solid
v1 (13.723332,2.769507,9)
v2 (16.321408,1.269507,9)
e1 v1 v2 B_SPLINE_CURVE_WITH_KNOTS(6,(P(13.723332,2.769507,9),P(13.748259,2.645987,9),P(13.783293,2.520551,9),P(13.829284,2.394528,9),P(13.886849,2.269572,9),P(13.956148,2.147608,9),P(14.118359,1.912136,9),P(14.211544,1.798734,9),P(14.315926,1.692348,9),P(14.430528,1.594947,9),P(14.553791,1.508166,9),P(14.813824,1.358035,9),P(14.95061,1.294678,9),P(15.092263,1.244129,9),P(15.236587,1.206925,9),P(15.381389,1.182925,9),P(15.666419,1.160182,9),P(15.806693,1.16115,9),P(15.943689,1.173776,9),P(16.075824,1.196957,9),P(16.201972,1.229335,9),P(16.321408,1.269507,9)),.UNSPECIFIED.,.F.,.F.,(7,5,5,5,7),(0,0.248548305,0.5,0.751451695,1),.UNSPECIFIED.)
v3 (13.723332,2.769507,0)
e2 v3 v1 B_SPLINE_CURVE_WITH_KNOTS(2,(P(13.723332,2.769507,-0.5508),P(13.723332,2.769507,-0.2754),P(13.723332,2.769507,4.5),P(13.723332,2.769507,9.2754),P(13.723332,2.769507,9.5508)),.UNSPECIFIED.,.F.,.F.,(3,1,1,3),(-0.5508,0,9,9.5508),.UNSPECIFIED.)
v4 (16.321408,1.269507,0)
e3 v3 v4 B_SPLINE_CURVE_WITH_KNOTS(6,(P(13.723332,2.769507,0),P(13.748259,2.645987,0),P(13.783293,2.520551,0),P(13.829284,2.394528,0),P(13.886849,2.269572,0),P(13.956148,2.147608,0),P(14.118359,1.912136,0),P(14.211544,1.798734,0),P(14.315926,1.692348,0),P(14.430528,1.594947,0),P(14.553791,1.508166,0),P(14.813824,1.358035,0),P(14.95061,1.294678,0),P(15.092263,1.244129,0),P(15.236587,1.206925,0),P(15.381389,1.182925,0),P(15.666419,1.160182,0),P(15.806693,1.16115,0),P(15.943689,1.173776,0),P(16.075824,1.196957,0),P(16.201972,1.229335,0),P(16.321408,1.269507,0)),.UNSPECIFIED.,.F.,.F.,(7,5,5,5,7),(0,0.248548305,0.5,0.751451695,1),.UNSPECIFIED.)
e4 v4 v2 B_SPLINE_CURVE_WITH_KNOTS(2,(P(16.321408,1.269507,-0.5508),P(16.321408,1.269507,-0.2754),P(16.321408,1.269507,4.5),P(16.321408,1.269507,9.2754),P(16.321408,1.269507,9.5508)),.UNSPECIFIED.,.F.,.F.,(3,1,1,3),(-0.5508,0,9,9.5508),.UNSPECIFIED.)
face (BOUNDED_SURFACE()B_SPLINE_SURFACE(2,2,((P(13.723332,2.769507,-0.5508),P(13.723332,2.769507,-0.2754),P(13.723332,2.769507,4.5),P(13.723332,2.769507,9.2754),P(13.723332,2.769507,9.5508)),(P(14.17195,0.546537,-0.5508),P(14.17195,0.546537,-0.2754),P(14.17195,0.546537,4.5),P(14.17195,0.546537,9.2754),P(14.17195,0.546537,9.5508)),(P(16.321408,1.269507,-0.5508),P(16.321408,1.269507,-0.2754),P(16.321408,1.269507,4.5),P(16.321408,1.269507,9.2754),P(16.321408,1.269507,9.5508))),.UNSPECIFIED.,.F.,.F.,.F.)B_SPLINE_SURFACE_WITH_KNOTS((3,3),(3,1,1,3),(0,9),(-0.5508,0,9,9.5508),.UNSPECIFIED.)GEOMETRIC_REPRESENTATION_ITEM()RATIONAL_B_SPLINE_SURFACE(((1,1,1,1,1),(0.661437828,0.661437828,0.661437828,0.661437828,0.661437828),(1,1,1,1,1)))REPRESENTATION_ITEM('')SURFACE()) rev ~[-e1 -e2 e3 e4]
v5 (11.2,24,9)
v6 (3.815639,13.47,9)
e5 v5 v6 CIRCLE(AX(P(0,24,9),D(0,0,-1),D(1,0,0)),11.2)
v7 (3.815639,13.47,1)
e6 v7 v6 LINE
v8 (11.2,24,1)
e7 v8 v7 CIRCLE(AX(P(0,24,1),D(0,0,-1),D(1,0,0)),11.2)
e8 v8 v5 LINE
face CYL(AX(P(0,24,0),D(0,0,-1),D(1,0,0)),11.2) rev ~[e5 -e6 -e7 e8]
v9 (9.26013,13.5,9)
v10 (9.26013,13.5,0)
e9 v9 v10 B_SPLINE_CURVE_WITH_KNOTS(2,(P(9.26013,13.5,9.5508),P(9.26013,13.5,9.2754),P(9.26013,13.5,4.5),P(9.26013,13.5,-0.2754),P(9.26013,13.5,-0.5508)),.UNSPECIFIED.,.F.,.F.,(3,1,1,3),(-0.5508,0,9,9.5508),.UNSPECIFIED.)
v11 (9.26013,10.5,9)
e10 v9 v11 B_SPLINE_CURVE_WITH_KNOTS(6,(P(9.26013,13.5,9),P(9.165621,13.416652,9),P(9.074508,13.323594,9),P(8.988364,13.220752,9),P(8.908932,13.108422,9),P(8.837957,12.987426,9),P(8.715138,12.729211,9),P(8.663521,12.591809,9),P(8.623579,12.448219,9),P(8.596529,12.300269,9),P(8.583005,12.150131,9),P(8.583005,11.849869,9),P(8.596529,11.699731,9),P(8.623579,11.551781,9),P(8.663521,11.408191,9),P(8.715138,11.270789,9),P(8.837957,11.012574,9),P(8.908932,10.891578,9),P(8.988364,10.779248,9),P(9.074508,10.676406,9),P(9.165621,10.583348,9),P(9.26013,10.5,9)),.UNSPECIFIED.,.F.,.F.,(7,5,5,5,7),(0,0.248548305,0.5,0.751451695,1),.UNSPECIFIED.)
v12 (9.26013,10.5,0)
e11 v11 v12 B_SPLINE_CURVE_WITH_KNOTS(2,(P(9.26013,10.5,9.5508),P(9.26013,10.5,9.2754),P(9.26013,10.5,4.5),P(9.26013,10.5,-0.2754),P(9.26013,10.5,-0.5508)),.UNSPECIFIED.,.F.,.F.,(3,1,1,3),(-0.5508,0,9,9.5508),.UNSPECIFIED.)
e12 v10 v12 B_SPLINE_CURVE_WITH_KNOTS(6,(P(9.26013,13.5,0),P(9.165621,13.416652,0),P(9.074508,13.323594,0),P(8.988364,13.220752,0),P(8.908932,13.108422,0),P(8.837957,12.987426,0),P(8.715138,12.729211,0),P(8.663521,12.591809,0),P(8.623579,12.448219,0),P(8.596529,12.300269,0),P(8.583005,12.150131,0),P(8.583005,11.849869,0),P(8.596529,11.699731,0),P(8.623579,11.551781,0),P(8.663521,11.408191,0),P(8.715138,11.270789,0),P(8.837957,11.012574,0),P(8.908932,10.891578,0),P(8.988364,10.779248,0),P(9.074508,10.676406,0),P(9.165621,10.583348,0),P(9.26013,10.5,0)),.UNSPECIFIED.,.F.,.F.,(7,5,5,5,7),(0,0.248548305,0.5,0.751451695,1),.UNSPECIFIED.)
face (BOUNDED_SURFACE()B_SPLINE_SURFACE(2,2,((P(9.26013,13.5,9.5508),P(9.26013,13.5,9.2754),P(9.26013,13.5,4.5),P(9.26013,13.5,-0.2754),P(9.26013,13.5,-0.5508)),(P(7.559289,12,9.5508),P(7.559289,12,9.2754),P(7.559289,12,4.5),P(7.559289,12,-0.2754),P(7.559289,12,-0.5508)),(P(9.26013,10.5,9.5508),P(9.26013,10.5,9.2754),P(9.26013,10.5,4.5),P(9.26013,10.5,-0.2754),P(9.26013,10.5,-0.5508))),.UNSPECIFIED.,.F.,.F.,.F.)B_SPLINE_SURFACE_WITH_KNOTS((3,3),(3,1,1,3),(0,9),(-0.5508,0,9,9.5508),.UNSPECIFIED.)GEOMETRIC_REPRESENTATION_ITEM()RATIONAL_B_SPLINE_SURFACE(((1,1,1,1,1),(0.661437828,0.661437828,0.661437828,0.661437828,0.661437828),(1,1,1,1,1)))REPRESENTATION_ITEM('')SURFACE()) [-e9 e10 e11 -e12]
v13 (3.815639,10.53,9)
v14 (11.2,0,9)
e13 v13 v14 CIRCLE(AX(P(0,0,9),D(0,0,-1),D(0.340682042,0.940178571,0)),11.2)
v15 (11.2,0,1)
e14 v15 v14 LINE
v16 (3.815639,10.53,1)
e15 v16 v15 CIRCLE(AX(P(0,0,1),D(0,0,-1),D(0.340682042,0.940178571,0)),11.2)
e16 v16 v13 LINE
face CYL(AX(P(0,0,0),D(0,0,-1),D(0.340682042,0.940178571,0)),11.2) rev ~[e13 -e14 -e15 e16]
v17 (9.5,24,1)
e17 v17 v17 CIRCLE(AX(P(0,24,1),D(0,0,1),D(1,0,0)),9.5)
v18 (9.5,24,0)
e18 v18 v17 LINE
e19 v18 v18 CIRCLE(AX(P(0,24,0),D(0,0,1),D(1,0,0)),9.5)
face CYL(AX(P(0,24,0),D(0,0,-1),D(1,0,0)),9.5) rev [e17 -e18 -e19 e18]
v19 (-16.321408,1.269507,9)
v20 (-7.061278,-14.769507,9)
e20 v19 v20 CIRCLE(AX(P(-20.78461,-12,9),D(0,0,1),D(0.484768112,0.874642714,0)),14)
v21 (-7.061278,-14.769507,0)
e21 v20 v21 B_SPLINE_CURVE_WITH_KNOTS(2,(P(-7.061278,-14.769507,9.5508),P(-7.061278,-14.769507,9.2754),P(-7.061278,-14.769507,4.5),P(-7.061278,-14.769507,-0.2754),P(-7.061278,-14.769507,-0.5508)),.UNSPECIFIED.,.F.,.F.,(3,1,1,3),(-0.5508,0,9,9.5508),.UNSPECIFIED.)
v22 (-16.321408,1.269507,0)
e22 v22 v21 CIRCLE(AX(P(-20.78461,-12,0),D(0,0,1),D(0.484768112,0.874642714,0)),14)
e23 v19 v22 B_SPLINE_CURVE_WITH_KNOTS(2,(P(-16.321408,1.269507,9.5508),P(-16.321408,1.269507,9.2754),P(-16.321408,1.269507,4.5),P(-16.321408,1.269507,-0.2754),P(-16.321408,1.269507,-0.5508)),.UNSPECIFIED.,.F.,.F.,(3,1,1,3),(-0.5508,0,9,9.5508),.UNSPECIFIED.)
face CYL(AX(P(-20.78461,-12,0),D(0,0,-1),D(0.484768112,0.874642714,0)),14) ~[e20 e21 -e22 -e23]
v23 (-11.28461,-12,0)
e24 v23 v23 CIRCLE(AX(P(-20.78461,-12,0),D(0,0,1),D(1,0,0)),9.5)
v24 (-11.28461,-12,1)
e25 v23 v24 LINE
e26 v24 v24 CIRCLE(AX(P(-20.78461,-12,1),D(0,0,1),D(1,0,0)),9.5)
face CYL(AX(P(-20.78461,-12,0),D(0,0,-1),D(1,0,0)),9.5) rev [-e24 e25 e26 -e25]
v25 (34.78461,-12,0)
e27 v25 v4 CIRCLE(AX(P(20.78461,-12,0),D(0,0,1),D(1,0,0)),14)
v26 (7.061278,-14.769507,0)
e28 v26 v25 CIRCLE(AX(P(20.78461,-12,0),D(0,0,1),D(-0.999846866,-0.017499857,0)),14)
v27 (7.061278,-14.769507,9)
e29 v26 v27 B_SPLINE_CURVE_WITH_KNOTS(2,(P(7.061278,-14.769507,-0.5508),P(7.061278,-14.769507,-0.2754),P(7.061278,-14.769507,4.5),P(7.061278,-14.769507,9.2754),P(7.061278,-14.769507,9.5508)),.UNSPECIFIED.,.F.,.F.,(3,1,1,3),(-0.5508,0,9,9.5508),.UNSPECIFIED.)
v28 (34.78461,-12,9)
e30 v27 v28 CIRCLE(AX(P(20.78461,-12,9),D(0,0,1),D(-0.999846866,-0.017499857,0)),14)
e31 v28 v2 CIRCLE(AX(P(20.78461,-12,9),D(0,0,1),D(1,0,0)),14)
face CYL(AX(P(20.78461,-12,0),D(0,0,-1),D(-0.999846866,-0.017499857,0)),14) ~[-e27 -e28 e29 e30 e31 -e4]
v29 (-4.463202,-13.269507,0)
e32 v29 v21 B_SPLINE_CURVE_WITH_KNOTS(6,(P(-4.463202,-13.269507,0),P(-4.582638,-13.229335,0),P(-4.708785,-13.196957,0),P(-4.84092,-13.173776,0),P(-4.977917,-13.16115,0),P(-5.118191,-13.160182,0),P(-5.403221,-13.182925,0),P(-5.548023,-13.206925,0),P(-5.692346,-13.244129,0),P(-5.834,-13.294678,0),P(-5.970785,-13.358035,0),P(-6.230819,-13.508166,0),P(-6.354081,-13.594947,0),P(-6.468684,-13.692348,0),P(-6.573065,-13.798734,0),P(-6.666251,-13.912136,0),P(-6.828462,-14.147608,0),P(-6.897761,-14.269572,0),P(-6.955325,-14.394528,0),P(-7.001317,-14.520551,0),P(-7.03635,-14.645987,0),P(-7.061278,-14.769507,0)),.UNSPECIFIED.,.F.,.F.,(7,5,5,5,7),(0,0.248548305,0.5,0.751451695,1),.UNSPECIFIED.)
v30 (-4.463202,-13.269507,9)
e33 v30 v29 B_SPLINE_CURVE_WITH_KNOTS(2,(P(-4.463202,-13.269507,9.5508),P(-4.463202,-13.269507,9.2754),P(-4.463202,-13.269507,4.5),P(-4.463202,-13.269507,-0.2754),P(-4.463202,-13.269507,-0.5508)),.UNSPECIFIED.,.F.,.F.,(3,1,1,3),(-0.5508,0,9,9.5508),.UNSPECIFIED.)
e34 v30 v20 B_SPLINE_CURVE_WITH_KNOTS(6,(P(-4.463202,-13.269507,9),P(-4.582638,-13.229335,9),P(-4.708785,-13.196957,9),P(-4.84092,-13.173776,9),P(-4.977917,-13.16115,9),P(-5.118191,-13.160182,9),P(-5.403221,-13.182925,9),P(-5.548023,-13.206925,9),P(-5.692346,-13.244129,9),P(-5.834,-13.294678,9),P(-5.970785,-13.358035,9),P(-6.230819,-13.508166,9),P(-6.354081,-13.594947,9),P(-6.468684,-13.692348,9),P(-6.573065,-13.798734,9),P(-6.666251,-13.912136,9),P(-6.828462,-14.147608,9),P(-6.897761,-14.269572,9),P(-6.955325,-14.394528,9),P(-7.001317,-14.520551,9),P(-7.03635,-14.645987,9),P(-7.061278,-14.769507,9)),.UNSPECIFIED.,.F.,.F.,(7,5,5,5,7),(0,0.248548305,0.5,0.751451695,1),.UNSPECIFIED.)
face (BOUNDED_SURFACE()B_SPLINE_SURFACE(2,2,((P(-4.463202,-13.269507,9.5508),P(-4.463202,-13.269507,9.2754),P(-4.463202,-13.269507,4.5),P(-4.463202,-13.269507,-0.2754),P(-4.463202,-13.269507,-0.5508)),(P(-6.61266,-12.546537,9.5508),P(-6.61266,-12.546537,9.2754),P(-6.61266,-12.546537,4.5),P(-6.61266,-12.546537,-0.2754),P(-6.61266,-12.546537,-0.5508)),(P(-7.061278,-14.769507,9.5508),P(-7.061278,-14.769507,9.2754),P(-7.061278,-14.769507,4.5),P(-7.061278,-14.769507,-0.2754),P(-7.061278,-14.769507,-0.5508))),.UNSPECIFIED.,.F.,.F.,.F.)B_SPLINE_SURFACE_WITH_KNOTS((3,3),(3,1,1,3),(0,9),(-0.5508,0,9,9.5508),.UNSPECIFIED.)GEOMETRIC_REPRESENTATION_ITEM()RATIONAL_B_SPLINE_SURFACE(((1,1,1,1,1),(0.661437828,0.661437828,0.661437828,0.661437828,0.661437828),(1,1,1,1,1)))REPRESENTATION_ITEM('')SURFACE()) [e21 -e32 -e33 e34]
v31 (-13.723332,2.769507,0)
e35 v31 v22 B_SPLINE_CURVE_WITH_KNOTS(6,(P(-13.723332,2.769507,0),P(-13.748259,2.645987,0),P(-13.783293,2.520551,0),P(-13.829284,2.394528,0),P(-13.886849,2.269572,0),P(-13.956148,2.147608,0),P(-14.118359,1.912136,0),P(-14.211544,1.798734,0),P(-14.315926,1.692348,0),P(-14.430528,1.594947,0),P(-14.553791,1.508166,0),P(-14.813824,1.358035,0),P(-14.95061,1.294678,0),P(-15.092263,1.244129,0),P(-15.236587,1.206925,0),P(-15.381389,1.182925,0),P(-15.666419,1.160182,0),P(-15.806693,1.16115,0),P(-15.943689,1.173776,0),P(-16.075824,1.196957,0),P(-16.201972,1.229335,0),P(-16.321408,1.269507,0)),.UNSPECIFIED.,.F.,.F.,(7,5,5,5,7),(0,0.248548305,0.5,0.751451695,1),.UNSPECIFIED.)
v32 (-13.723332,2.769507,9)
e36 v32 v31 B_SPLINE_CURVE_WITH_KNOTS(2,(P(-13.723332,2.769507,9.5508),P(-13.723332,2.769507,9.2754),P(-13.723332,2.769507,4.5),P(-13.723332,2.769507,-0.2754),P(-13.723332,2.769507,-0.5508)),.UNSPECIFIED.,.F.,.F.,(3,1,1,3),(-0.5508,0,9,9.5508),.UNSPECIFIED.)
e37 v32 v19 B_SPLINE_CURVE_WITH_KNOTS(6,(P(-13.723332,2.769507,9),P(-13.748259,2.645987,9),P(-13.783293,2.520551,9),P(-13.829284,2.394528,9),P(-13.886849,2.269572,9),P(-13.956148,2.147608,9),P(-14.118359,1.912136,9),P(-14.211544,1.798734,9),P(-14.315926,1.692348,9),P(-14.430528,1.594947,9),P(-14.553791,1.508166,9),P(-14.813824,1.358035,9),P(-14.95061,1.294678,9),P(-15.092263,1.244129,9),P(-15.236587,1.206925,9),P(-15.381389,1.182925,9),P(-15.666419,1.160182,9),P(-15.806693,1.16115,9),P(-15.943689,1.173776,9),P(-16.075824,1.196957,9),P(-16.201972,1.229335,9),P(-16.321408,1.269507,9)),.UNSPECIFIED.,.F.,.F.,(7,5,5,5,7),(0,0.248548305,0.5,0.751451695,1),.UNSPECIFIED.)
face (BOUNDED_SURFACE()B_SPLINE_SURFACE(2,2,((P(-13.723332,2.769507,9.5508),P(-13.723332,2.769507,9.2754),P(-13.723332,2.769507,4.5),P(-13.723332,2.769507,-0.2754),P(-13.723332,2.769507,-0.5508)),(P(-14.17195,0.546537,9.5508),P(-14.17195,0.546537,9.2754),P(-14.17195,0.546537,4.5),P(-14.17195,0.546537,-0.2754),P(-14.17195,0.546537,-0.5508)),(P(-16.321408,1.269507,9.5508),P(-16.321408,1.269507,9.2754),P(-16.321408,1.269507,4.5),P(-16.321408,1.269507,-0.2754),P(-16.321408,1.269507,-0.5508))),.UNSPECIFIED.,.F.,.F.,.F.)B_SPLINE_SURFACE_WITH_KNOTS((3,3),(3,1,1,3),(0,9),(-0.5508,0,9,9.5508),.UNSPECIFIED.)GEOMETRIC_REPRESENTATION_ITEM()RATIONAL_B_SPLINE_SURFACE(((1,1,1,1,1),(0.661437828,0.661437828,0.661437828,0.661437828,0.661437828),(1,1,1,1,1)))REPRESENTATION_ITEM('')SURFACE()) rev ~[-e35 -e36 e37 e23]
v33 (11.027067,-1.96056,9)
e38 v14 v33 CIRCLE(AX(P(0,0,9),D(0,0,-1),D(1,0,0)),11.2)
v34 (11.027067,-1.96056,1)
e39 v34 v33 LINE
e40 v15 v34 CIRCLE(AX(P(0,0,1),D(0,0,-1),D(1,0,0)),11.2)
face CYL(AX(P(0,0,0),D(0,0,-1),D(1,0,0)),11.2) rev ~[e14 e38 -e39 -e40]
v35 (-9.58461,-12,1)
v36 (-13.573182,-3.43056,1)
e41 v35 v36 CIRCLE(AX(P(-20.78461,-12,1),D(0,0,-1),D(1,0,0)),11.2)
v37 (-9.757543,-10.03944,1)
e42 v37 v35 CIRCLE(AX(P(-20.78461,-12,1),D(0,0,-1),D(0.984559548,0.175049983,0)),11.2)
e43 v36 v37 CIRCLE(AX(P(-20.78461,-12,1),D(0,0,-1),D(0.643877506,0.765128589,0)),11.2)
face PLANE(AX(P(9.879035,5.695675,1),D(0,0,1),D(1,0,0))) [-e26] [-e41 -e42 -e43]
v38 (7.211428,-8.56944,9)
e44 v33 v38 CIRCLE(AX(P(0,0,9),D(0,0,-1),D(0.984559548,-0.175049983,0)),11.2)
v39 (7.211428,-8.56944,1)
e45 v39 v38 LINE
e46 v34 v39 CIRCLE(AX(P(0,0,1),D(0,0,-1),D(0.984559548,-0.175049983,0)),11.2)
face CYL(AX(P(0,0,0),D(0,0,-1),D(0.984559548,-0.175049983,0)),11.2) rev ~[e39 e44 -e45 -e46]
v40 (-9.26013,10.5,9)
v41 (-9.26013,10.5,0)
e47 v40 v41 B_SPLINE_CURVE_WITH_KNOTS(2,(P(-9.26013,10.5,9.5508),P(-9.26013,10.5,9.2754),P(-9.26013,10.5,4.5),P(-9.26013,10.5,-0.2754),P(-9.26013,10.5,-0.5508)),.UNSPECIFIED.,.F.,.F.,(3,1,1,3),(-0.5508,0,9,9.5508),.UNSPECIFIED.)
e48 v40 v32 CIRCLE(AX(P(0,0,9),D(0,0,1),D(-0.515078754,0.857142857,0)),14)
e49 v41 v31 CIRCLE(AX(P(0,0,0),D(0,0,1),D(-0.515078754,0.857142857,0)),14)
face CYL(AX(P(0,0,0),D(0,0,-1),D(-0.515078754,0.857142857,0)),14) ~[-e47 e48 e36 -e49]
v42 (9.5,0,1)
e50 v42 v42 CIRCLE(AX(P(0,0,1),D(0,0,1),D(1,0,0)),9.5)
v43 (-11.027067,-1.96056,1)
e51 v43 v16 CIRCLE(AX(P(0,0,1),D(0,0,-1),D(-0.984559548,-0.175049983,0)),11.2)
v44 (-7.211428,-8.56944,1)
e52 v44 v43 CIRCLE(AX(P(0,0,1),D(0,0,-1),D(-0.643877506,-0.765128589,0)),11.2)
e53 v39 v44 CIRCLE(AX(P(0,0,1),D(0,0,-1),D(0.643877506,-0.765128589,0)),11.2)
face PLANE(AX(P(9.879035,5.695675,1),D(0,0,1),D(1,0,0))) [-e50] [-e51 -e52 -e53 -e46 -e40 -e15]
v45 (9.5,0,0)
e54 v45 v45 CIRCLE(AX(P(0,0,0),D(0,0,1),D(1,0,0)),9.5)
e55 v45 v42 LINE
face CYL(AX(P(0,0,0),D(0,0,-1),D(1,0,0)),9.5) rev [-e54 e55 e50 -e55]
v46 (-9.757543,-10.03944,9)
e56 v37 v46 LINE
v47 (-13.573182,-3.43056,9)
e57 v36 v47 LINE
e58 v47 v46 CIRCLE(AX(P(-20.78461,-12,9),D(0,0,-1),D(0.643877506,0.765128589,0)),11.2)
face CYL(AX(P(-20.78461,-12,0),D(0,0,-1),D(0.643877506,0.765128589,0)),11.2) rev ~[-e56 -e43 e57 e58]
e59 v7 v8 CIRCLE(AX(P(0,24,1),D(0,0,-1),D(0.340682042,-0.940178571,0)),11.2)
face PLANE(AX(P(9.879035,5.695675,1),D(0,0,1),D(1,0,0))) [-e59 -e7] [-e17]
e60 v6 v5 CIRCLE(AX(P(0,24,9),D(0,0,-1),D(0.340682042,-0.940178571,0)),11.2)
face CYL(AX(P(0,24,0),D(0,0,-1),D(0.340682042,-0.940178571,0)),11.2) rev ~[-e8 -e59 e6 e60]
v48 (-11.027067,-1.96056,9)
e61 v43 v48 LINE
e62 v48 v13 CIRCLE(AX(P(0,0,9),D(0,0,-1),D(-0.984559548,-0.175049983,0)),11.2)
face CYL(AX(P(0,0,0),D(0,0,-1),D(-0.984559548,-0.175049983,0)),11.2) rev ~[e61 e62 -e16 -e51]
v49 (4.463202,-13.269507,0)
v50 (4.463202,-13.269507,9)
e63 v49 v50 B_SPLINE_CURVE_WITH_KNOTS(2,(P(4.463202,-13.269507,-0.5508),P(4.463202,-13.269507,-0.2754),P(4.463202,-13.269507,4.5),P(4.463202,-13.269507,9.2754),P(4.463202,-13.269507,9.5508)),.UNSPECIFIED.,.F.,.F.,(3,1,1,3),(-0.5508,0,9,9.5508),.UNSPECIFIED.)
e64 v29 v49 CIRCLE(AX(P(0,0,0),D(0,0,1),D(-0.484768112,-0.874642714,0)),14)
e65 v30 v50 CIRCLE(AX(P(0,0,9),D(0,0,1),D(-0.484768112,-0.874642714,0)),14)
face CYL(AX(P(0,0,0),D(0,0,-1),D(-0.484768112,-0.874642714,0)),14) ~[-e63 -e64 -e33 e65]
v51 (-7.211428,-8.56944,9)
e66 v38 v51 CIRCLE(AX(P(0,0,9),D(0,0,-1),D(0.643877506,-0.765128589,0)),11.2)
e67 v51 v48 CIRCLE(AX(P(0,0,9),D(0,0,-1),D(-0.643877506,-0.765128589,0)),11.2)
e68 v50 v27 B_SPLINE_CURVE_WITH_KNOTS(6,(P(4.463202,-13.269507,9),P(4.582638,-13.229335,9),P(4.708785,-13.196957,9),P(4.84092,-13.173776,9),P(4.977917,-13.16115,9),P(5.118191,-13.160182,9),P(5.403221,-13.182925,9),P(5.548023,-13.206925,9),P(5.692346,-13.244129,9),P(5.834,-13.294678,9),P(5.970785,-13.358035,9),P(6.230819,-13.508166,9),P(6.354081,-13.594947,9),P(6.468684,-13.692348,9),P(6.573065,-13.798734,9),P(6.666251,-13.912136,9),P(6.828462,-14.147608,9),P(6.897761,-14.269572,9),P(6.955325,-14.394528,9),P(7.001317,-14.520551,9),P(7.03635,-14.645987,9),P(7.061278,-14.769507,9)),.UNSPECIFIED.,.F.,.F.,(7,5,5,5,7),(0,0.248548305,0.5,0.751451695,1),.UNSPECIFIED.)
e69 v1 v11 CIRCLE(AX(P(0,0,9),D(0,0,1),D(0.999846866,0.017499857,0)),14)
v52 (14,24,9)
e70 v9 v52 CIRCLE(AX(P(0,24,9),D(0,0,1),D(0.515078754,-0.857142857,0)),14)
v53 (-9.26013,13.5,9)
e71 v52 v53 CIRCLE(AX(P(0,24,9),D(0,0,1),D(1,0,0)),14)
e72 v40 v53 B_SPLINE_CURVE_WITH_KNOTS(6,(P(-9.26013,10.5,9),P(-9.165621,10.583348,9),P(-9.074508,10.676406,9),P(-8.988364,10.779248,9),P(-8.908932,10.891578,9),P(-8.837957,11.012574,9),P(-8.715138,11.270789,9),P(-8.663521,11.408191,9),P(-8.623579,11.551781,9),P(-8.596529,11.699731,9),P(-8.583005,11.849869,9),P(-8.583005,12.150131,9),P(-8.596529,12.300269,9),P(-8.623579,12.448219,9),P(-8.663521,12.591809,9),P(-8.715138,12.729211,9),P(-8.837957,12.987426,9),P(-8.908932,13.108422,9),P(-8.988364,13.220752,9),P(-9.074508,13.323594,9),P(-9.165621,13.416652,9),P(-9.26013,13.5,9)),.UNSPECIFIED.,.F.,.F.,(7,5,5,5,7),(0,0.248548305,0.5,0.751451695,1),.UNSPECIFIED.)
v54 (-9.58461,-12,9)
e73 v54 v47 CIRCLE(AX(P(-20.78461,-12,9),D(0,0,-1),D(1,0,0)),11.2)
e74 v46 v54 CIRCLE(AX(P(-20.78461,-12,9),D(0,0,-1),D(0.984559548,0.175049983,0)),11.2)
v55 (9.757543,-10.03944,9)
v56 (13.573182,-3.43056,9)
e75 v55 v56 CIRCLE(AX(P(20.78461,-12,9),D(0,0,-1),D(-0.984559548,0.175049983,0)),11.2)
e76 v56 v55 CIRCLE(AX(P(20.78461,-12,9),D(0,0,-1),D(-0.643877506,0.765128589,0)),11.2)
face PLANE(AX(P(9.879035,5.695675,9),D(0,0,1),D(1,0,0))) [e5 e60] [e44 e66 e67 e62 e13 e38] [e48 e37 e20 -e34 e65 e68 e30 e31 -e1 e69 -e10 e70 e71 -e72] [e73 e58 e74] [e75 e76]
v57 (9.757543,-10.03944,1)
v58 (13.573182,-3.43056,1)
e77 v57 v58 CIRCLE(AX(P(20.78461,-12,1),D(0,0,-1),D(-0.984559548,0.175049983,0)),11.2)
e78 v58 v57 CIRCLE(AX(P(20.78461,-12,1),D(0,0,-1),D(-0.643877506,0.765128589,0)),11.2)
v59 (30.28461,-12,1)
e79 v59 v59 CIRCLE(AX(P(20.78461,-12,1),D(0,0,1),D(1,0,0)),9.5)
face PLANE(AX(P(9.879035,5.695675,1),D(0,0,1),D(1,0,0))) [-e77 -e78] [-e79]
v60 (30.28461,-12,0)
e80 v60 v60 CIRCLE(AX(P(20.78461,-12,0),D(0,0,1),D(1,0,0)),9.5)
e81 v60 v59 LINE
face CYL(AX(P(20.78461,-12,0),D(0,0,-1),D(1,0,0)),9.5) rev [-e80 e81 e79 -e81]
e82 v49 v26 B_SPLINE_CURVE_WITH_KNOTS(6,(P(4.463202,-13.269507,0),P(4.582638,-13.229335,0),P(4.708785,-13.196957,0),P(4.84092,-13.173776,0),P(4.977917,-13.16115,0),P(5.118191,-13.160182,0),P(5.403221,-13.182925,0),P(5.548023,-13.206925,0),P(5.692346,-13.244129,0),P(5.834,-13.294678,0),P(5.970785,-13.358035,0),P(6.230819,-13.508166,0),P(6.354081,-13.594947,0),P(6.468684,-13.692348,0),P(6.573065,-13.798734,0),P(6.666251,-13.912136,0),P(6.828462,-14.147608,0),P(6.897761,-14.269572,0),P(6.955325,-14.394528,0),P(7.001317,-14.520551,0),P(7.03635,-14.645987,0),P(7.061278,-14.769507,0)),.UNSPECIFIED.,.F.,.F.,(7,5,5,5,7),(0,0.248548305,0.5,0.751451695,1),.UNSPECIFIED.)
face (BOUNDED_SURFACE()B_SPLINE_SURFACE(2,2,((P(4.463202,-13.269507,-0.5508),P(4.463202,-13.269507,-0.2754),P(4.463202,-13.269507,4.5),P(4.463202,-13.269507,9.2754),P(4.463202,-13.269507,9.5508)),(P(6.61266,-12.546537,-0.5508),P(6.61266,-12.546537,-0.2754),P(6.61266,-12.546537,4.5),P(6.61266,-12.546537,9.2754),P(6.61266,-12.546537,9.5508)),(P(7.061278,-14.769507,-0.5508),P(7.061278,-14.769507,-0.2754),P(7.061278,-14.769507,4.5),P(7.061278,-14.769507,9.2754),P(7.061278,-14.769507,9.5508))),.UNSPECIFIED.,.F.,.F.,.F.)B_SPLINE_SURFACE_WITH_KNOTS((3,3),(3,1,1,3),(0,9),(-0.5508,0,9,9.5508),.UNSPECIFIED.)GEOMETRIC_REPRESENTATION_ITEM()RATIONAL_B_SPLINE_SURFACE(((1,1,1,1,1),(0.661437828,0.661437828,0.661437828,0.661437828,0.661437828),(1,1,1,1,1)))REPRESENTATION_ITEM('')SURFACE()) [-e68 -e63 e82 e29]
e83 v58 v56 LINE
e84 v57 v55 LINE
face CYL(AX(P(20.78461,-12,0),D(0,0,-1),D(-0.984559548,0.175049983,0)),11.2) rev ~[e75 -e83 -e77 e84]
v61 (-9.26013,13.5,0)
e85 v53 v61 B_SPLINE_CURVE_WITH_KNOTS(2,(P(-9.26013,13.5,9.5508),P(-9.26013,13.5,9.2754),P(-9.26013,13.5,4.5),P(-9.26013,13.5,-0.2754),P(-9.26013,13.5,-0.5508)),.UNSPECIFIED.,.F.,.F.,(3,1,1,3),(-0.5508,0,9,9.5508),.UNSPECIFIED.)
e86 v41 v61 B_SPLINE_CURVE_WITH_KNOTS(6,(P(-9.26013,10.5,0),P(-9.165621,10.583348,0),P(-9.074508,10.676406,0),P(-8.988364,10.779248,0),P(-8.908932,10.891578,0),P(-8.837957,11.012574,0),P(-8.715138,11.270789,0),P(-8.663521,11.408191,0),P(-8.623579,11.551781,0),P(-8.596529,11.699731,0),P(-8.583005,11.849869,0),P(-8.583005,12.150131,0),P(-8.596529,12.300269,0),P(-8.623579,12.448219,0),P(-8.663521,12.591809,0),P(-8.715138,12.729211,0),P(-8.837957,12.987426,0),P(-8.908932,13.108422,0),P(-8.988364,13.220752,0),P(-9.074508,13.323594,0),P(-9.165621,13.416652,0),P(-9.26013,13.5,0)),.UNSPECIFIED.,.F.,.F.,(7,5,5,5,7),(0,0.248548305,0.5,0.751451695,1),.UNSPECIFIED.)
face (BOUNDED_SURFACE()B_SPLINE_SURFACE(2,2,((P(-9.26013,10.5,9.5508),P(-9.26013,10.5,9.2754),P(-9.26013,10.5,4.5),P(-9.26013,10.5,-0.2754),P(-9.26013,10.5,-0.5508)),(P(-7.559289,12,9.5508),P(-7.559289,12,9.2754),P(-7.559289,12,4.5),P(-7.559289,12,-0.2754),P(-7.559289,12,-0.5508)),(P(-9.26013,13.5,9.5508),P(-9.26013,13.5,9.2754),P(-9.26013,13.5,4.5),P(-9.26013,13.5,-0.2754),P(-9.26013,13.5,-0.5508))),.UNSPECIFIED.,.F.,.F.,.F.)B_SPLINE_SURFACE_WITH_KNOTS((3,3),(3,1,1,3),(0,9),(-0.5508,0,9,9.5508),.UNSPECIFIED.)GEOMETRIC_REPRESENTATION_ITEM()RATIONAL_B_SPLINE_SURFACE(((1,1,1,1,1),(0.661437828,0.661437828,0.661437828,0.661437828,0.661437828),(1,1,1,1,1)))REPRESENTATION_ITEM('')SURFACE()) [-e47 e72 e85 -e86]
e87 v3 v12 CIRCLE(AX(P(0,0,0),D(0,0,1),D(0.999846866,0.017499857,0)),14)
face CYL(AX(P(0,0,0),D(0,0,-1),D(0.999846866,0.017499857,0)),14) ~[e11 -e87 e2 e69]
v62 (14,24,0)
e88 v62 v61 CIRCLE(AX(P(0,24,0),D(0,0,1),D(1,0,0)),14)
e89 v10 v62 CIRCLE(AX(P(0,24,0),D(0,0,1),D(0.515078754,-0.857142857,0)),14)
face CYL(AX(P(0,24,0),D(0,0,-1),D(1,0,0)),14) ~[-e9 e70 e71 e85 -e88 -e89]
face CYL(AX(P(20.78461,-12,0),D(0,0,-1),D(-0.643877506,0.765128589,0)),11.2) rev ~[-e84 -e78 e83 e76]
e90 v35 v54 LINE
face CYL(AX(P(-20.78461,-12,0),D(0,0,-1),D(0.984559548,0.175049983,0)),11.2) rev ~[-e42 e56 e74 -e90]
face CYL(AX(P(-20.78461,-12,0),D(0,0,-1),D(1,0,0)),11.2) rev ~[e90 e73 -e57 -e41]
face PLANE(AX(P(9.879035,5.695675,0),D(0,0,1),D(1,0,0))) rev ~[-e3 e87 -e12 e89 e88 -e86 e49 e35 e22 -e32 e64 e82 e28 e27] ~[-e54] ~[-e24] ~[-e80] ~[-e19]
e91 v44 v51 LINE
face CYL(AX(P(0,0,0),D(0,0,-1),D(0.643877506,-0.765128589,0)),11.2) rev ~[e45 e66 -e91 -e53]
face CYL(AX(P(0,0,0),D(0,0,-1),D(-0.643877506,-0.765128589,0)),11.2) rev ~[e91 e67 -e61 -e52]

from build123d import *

# Parameters (mm, degrees)
F0_R     = 9.5
F1_DEPTH = 1
F2_DEPTH = 9
F3_R     = 2


with BuildPart() as f1:
    # F0 (on Top) → F1 (new body)
    with BuildSketch(Plane.XY):
        with BuildLine():
            ThreePointArc((3.8156388718, 10.53), (9.1699278995, 6.4305849126), (11.2, 0))
            ThreePointArc((11.2, 0), (11.1566829681, -0.9840859457), (11.0270669378, -1.9605598054))
            ThreePointArc((11.0270669378, -1.9605598054), (12.4392782707, -0.7592062786), (13.9978561209, 0.2449979984))
            ThreePointArc((13.9978561209, 0.2449979984), (12.124355653, 7), (7.2111025509, 12))
            ThreePointArc((7.2111025509, 12), (5.5621472114, 11.1523341264), (3.8156388718, 10.53))
        make_face()
        with BuildLine():
            ThreePointArc((-3.8156388718, 10.53), (0, 11.2), (3.8156388718, 10.53))
            ThreePointArc((3.8156388718, 10.53), (5.5621472114, 11.1523341264), (7.2111025509, 12))
            ThreePointArc((7.2111025509, 12), (5.5621472114, 12.8476658736), (3.8156388718, 13.47))
            ThreePointArc((3.8156388718, 13.47), (0, 12.8), (-3.8156388718, 13.47))
            ThreePointArc((-3.8156388718, 13.47), (-5.5621472114, 12.8476658736), (-7.2111025509, 12))
            ThreePointArc((-7.2111025509, 12), (-5.5621472114, 11.1523341264), (-3.8156388718, 10.53))
        make_face()
        with BuildLine():
            ThreePointArc((13.9978561209, 0.2449979984), (12.4392782707, -0.7592062786), (11.0270669378, -1.9605598054))
            ThreePointArc((11.0270669378, -1.9605598054), (9.6994845224, -5.6), (7.2114280659, -8.5694401946))
            ThreePointArc((7.2114280659, -8.5694401946), (6.8771310593, -10.3931278478), (6.7867535699, -12.2449979984))
            ThreePointArc((6.7867535699, -12.2449979984), (8.3453314202, -11.2407937214), (9.7575427531, -10.0394401946))
            ThreePointArc((9.7575427531, -10.0394401946), (11.0851251684, -6.4), (13.5731816249, -3.4305598054))
            ThreePointArc((13.5731816249, -3.4305598054), (13.8928856388, -1.728504737), (14, 0))
            ThreePointArc((14, 0), (13.99946402, 0.1225036892), (13.9978561209, 0.2449979984))
        make_face()
        with BuildLine():
            ThreePointArc((-11.0270669378, -1.9605598054), (-9.6994845224, 5.6), (-3.8156388718, 10.53))
            ThreePointArc((-3.8156388718, 10.53), (-5.5621472114, 11.1523341264), (-7.2111025509, 12))
            ThreePointArc((-7.2111025509, 12), (-12.124355653, 7), (-13.9978561209, 0.2449979984))
            ThreePointArc((-13.9978561209, 0.2449979984), (-12.4392782707, -0.7592062786), (-11.0270669378, -1.9605598054))
        make_face()
        with BuildLine():
            ThreePointArc((3.8156388718, 13.47), (5.5621472114, 12.8476658736), (7.2111025509, 12))
            ThreePointArc((7.2111025509, 12), (12.1851433252, 17.1063592969), (14, 24))
            ThreePointArc((14, 24), (-6.8936407031, 36.1851433252), (-7.2111025509, 12))
            ThreePointArc((-7.2111025509, 12), (-5.5621472114, 12.8476658736), (-3.8156388718, 13.47))
            ThreePointArc((-3.8156388718, 13.47), (-6.4305849126, 33.1699278995), (11.2, 24))
            ThreePointArc((11.2, 24), (9.1699278995, 17.5694150874), (3.8156388718, 13.47))
        make_face()
        with BuildLine():
            ThreePointArc((6.7867535699, -12.2449979984), (6.8771310593, -10.3931278478), (7.2114280659, -8.5694401946))
            ThreePointArc((7.2114280659, -8.5694401946), (0, -11.2), (-7.2114280659, -8.5694401946))
            ThreePointArc((-7.2114280659, -8.5694401946), (-6.891724052, -10.271495263), (-6.7846096908, -12))
            ThreePointArc((-6.7846096908, -12), (-6.7851456709, -12.1225036892), (-6.7867535699, -12.2449979984))
            ThreePointArc((-6.7867535699, -12.2449979984), (0, -14), (6.7867535699, -12.2449979984))
        make_face()
        with BuildLine():
            ThreePointArc((34.7846096908, -12), (27.8904330077, 0.0626396361), (13.9978561209, 0.2449979984))
            ThreePointArc((13.9978561209, 0.2449979984), (13.99946402, 0.1225036892), (14, 0))
            ThreePointArc((14, 0), (13.8928856388, -1.728504737), (13.5731816249, -3.4305598054))
            ThreePointArc((13.5731816249, -3.4305598054), (25.5107077464, -1.8459861548), (31.9846096908, -12))
            ThreePointArc((31.9846096908, -12), (19.8005237451, -23.1566829681), (9.7575427531, -10.0394401946))
            ThreePointArc((9.7575427531, -10.0394401946), (8.3453314202, -11.2407937214), (6.7867535699, -12.2449979984))
            ThreePointArc((6.7867535699, -12.2449979984), (20.90711338, -25.99946402), (34.7846096908, -12))
        make_face()
        with BuildLine():
            ThreePointArc((-7.2114280659, -8.5694401946), (-9.6994845224, -5.6), (-11.0270669378, -1.9605598054))
            ThreePointArc((-11.0270669378, -1.9605598054), (-12.4392782707, -0.7592062786), (-13.9978561209, 0.2449979984))
            ThreePointArc((-13.9978561209, 0.2449979984), (-13.9074786315, -1.6068721522), (-13.5731816249, -3.4305598054))
            ThreePointArc((-13.5731816249, -3.4305598054), (-11.0851251684, -6.4), (-9.7575427531, -10.0394401946))
            ThreePointArc((-9.7575427531, -10.0394401946), (-8.3453314202, -11.2407937214), (-6.7867535699, -12.2449979984))
            ThreePointArc((-6.7867535699, -12.2449979984), (-6.7851456709, -12.1225036892), (-6.7846096908, -12))
            ThreePointArc((-6.7846096908, -12), (-6.891724052, -10.271495263), (-7.2114280659, -8.5694401946))
        make_face()
        with BuildLine():
            ThreePointArc((-13.5731816249, -3.4305598054), (-13.9074786315, -1.6068721522), (-13.9978561209, 0.2449979984))
            ThreePointArc((-13.9978561209, 0.2449979984), (-32.9089653438, -19), (-6.7867535699, -12.2449979984))
            ThreePointArc((-6.7867535699, -12.2449979984), (-8.3453314202, -11.2407937214), (-9.7575427531, -10.0394401946))
            ThreePointArc((-9.7575427531, -10.0394401946), (-9.6279267227, -11.0159140543), (-9.5846096908, -12))
            ThreePointArc((-9.5846096908, -12), (-30.9386235361, -16.7260980556), (-13.5731816249, -3.4305598054))
        make_face()
        with BuildLine():
            ThreePointArc((11.0270669378, -1.9605598054), (11.1566829681, -0.9840859457), (11.2, 0))
            ThreePointArc((11.2, 0), (9.1699278995, 6.4305849126), (3.8156388718, 10.53))
            ThreePointArc((3.8156388718, 10.53), (0, 10), (-3.8156388718, 10.53))
            ThreePointArc((-3.8156388718, 10.53), (-9.6994845224, 5.6), (-11.0270669378, -1.9605598054))
            ThreePointArc((-11.0270669378, -1.9605598054), (-8.6602540378, -5), (-7.2114280659, -8.5694401946))
            ThreePointArc((-7.2114280659, -8.5694401946), (0, -11.2), (7.2114280659, -8.5694401946))
            ThreePointArc((7.2114280659, -8.5694401946), (8.6602540378, -5), (11.0270669378, -1.9605598054))
        make_face()
        Circle(F0_R, mode=Mode.SUBTRACT)
        with BuildLine():
            ThreePointArc((-3.8156388718, 13.47), (0, 12.8), (3.8156388718, 13.47))
            ThreePointArc((3.8156388718, 13.47), (0, 14), (-3.8156388718, 13.47))
        make_face()
        with BuildLine():
            ThreePointArc((-3.8156388718, 13.47), (0, 14), (3.8156388718, 13.47))
            ThreePointArc((3.8156388718, 13.47), (9.1699278995, 17.5694150874), (11.2, 24))
            ThreePointArc((11.2, 24), (-6.4305849126, 33.1699278995), (-3.8156388718, 13.47))
        make_face()
        with Locations((0, 24)):
            Circle(F0_R, mode=Mode.SUBTRACT)
        with BuildLine():
            ThreePointArc((-9.7575427531, -10.0394401946), (-11.0851251684, -6.4), (-13.5731816249, -3.4305598054))
            ThreePointArc((-13.5731816249, -3.4305598054), (-12.124355653, -7), (-9.7575427531, -10.0394401946))
        make_face()
        with BuildLine():
            ThreePointArc((-9.7575427531, -10.0394401946), (-12.124355653, -7), (-13.5731816249, -3.4305598054))
            ThreePointArc((-13.5731816249, -3.4305598054), (-30.9386235361, -16.7260980556), (-9.5846096908, -12))
            ThreePointArc((-9.5846096908, -12), (-9.6279267227, -11.0159140543), (-9.7575427531, -10.0394401946))
        make_face()
        with Locations((-20.7846096908, -12)):
            Circle(F0_R, mode=Mode.SUBTRACT)
        with BuildLine():
            ThreePointArc((13.5731816249, -3.4305598054), (11.0851251684, -6.4), (9.7575427531, -10.0394401946))
            ThreePointArc((9.7575427531, -10.0394401946), (12.124355653, -7), (13.5731816249, -3.4305598054))
        make_face()
        with BuildLine():
            ThreePointArc((13.5731816249, -3.4305598054), (12.124355653, -7), (9.7575427531, -10.0394401946))
            ThreePointArc((9.7575427531, -10.0394401946), (19.8005237451, -23.1566829681), (31.9846096908, -12))
            ThreePointArc((31.9846096908, -12), (25.5107077464, -1.8459861548), (13.5731816249, -3.4305598054))
        make_face()
        with Locations((20.7846096908, -12)):
            Circle(F0_R, mode=Mode.SUBTRACT)
        with BuildLine():
            ThreePointArc((-7.2114280659, -8.5694401946), (-8.6602540378, -5), (-11.0270669378, -1.9605598054))
            ThreePointArc((-11.0270669378, -1.9605598054), (-9.6994845224, -5.6), (-7.2114280659, -8.5694401946))
        make_face()
        with BuildLine():
            ThreePointArc((7.2114280659, -8.5694401946), (9.6994845224, -5.6), (11.0270669378, -1.9605598054))
            ThreePointArc((11.0270669378, -1.9605598054), (8.6602540378, -5), (7.2114280659, -8.5694401946))
        make_face()
        with BuildLine():
            ThreePointArc((-3.8156388718, 10.53), (0, 10), (3.8156388718, 10.53))
            ThreePointArc((3.8156388718, 10.53), (0, 11.2), (-3.8156388718, 10.53))
        make_face()
    extrude(amount=F1_DEPTH)

    # F0 (on Top) → F2 (join)
    with BuildSketch(Plane.XY):
        with BuildLine():
            ThreePointArc((3.8156388718, 10.53), (9.1699278995, 6.4305849126), (11.2, 0))
            ThreePointArc((11.2, 0), (11.1566829681, -0.9840859457), (11.0270669378, -1.9605598054))
            ThreePointArc((11.0270669378, -1.9605598054), (12.4392782707, -0.7592062786), (13.9978561209, 0.2449979984))
            ThreePointArc((13.9978561209, 0.2449979984), (12.124355653, 7), (7.2111025509, 12))
            ThreePointArc((7.2111025509, 12), (5.5621472114, 11.1523341264), (3.8156388718, 10.53))
        make_face()
        with BuildLine():
            ThreePointArc((-3.8156388718, 10.53), (0, 11.2), (3.8156388718, 10.53))
            ThreePointArc((3.8156388718, 10.53), (5.5621472114, 11.1523341264), (7.2111025509, 12))
            ThreePointArc((7.2111025509, 12), (5.5621472114, 12.8476658736), (3.8156388718, 13.47))
            ThreePointArc((3.8156388718, 13.47), (0, 12.8), (-3.8156388718, 13.47))
            ThreePointArc((-3.8156388718, 13.47), (-5.5621472114, 12.8476658736), (-7.2111025509, 12))
            ThreePointArc((-7.2111025509, 12), (-5.5621472114, 11.1523341264), (-3.8156388718, 10.53))
        make_face()
        with BuildLine():
            ThreePointArc((13.9978561209, 0.2449979984), (12.4392782707, -0.7592062786), (11.0270669378, -1.9605598054))
            ThreePointArc((11.0270669378, -1.9605598054), (9.6994845224, -5.6), (7.2114280659, -8.5694401946))
            ThreePointArc((7.2114280659, -8.5694401946), (6.8771310593, -10.3931278478), (6.7867535699, -12.2449979984))
            ThreePointArc((6.7867535699, -12.2449979984), (8.3453314202, -11.2407937214), (9.7575427531, -10.0394401946))
            ThreePointArc((9.7575427531, -10.0394401946), (11.0851251684, -6.4), (13.5731816249, -3.4305598054))
            ThreePointArc((13.5731816249, -3.4305598054), (13.8928856388, -1.728504737), (14, 0))
            ThreePointArc((14, 0), (13.99946402, 0.1225036892), (13.9978561209, 0.2449979984))
        make_face()
        with BuildLine():
            ThreePointArc((-11.0270669378, -1.9605598054), (-9.6994845224, 5.6), (-3.8156388718, 10.53))
            ThreePointArc((-3.8156388718, 10.53), (-5.5621472114, 11.1523341264), (-7.2111025509, 12))
            ThreePointArc((-7.2111025509, 12), (-12.124355653, 7), (-13.9978561209, 0.2449979984))
            ThreePointArc((-13.9978561209, 0.2449979984), (-12.4392782707, -0.7592062786), (-11.0270669378, -1.9605598054))
        make_face()
        with BuildLine():
            ThreePointArc((3.8156388718, 13.47), (5.5621472114, 12.8476658736), (7.2111025509, 12))
            ThreePointArc((7.2111025509, 12), (12.1851433252, 17.1063592969), (14, 24))
            ThreePointArc((14, 24), (-6.8936407031, 36.1851433252), (-7.2111025509, 12))
            ThreePointArc((-7.2111025509, 12), (-5.5621472114, 12.8476658736), (-3.8156388718, 13.47))
            ThreePointArc((-3.8156388718, 13.47), (-6.4305849126, 33.1699278995), (11.2, 24))
            ThreePointArc((11.2, 24), (9.1699278995, 17.5694150874), (3.8156388718, 13.47))
        make_face()
        with BuildLine():
            ThreePointArc((6.7867535699, -12.2449979984), (6.8771310593, -10.3931278478), (7.2114280659, -8.5694401946))
            ThreePointArc((7.2114280659, -8.5694401946), (0, -11.2), (-7.2114280659, -8.5694401946))
            ThreePointArc((-7.2114280659, -8.5694401946), (-6.891724052, -10.271495263), (-6.7846096908, -12))
            ThreePointArc((-6.7846096908, -12), (-6.7851456709, -12.1225036892), (-6.7867535699, -12.2449979984))
            ThreePointArc((-6.7867535699, -12.2449979984), (0, -14), (6.7867535699, -12.2449979984))
        make_face()
        with BuildLine():
            ThreePointArc((34.7846096908, -12), (27.8904330077, 0.0626396361), (13.9978561209, 0.2449979984))
            ThreePointArc((13.9978561209, 0.2449979984), (13.99946402, 0.1225036892), (14, 0))
            ThreePointArc((14, 0), (13.8928856388, -1.728504737), (13.5731816249, -3.4305598054))
            ThreePointArc((13.5731816249, -3.4305598054), (25.5107077464, -1.8459861548), (31.9846096908, -12))
            ThreePointArc((31.9846096908, -12), (19.8005237451, -23.1566829681), (9.7575427531, -10.0394401946))
            ThreePointArc((9.7575427531, -10.0394401946), (8.3453314202, -11.2407937214), (6.7867535699, -12.2449979984))
            ThreePointArc((6.7867535699, -12.2449979984), (20.90711338, -25.99946402), (34.7846096908, -12))
        make_face()
        with BuildLine():
            ThreePointArc((-7.2114280659, -8.5694401946), (-9.6994845224, -5.6), (-11.0270669378, -1.9605598054))
            ThreePointArc((-11.0270669378, -1.9605598054), (-12.4392782707, -0.7592062786), (-13.9978561209, 0.2449979984))
            ThreePointArc((-13.9978561209, 0.2449979984), (-13.9074786315, -1.6068721522), (-13.5731816249, -3.4305598054))
            ThreePointArc((-13.5731816249, -3.4305598054), (-11.0851251684, -6.4), (-9.7575427531, -10.0394401946))
            ThreePointArc((-9.7575427531, -10.0394401946), (-8.3453314202, -11.2407937214), (-6.7867535699, -12.2449979984))
            ThreePointArc((-6.7867535699, -12.2449979984), (-6.7851456709, -12.1225036892), (-6.7846096908, -12))
            ThreePointArc((-6.7846096908, -12), (-6.891724052, -10.271495263), (-7.2114280659, -8.5694401946))
        make_face()
        with BuildLine():
            ThreePointArc((-13.5731816249, -3.4305598054), (-13.9074786315, -1.6068721522), (-13.9978561209, 0.2449979984))
            ThreePointArc((-13.9978561209, 0.2449979984), (-32.9089653438, -19), (-6.7867535699, -12.2449979984))
            ThreePointArc((-6.7867535699, -12.2449979984), (-8.3453314202, -11.2407937214), (-9.7575427531, -10.0394401946))
            ThreePointArc((-9.7575427531, -10.0394401946), (-9.6279267227, -11.0159140543), (-9.5846096908, -12))
            ThreePointArc((-9.5846096908, -12), (-30.9386235361, -16.7260980556), (-13.5731816249, -3.4305598054))
        make_face()
    extrude(amount=F2_DEPTH)

    # F3
    f3_edges = [f1.edges().sort_by_distance(p)[0] for p in [
        (-7.211103, 12, 4.5),
        (-13.997856, 0.244998, 4.5),
        (-6.786754, -12.244998, 4.5),
        (6.786754, -12.244998, 4.5),
        (13.997856, 0.244998, 4.5),
        (7.211103, 12, 4.5),
    ]]
    fillet(f3_edges, radius=F3_R)


solid = f1.part
